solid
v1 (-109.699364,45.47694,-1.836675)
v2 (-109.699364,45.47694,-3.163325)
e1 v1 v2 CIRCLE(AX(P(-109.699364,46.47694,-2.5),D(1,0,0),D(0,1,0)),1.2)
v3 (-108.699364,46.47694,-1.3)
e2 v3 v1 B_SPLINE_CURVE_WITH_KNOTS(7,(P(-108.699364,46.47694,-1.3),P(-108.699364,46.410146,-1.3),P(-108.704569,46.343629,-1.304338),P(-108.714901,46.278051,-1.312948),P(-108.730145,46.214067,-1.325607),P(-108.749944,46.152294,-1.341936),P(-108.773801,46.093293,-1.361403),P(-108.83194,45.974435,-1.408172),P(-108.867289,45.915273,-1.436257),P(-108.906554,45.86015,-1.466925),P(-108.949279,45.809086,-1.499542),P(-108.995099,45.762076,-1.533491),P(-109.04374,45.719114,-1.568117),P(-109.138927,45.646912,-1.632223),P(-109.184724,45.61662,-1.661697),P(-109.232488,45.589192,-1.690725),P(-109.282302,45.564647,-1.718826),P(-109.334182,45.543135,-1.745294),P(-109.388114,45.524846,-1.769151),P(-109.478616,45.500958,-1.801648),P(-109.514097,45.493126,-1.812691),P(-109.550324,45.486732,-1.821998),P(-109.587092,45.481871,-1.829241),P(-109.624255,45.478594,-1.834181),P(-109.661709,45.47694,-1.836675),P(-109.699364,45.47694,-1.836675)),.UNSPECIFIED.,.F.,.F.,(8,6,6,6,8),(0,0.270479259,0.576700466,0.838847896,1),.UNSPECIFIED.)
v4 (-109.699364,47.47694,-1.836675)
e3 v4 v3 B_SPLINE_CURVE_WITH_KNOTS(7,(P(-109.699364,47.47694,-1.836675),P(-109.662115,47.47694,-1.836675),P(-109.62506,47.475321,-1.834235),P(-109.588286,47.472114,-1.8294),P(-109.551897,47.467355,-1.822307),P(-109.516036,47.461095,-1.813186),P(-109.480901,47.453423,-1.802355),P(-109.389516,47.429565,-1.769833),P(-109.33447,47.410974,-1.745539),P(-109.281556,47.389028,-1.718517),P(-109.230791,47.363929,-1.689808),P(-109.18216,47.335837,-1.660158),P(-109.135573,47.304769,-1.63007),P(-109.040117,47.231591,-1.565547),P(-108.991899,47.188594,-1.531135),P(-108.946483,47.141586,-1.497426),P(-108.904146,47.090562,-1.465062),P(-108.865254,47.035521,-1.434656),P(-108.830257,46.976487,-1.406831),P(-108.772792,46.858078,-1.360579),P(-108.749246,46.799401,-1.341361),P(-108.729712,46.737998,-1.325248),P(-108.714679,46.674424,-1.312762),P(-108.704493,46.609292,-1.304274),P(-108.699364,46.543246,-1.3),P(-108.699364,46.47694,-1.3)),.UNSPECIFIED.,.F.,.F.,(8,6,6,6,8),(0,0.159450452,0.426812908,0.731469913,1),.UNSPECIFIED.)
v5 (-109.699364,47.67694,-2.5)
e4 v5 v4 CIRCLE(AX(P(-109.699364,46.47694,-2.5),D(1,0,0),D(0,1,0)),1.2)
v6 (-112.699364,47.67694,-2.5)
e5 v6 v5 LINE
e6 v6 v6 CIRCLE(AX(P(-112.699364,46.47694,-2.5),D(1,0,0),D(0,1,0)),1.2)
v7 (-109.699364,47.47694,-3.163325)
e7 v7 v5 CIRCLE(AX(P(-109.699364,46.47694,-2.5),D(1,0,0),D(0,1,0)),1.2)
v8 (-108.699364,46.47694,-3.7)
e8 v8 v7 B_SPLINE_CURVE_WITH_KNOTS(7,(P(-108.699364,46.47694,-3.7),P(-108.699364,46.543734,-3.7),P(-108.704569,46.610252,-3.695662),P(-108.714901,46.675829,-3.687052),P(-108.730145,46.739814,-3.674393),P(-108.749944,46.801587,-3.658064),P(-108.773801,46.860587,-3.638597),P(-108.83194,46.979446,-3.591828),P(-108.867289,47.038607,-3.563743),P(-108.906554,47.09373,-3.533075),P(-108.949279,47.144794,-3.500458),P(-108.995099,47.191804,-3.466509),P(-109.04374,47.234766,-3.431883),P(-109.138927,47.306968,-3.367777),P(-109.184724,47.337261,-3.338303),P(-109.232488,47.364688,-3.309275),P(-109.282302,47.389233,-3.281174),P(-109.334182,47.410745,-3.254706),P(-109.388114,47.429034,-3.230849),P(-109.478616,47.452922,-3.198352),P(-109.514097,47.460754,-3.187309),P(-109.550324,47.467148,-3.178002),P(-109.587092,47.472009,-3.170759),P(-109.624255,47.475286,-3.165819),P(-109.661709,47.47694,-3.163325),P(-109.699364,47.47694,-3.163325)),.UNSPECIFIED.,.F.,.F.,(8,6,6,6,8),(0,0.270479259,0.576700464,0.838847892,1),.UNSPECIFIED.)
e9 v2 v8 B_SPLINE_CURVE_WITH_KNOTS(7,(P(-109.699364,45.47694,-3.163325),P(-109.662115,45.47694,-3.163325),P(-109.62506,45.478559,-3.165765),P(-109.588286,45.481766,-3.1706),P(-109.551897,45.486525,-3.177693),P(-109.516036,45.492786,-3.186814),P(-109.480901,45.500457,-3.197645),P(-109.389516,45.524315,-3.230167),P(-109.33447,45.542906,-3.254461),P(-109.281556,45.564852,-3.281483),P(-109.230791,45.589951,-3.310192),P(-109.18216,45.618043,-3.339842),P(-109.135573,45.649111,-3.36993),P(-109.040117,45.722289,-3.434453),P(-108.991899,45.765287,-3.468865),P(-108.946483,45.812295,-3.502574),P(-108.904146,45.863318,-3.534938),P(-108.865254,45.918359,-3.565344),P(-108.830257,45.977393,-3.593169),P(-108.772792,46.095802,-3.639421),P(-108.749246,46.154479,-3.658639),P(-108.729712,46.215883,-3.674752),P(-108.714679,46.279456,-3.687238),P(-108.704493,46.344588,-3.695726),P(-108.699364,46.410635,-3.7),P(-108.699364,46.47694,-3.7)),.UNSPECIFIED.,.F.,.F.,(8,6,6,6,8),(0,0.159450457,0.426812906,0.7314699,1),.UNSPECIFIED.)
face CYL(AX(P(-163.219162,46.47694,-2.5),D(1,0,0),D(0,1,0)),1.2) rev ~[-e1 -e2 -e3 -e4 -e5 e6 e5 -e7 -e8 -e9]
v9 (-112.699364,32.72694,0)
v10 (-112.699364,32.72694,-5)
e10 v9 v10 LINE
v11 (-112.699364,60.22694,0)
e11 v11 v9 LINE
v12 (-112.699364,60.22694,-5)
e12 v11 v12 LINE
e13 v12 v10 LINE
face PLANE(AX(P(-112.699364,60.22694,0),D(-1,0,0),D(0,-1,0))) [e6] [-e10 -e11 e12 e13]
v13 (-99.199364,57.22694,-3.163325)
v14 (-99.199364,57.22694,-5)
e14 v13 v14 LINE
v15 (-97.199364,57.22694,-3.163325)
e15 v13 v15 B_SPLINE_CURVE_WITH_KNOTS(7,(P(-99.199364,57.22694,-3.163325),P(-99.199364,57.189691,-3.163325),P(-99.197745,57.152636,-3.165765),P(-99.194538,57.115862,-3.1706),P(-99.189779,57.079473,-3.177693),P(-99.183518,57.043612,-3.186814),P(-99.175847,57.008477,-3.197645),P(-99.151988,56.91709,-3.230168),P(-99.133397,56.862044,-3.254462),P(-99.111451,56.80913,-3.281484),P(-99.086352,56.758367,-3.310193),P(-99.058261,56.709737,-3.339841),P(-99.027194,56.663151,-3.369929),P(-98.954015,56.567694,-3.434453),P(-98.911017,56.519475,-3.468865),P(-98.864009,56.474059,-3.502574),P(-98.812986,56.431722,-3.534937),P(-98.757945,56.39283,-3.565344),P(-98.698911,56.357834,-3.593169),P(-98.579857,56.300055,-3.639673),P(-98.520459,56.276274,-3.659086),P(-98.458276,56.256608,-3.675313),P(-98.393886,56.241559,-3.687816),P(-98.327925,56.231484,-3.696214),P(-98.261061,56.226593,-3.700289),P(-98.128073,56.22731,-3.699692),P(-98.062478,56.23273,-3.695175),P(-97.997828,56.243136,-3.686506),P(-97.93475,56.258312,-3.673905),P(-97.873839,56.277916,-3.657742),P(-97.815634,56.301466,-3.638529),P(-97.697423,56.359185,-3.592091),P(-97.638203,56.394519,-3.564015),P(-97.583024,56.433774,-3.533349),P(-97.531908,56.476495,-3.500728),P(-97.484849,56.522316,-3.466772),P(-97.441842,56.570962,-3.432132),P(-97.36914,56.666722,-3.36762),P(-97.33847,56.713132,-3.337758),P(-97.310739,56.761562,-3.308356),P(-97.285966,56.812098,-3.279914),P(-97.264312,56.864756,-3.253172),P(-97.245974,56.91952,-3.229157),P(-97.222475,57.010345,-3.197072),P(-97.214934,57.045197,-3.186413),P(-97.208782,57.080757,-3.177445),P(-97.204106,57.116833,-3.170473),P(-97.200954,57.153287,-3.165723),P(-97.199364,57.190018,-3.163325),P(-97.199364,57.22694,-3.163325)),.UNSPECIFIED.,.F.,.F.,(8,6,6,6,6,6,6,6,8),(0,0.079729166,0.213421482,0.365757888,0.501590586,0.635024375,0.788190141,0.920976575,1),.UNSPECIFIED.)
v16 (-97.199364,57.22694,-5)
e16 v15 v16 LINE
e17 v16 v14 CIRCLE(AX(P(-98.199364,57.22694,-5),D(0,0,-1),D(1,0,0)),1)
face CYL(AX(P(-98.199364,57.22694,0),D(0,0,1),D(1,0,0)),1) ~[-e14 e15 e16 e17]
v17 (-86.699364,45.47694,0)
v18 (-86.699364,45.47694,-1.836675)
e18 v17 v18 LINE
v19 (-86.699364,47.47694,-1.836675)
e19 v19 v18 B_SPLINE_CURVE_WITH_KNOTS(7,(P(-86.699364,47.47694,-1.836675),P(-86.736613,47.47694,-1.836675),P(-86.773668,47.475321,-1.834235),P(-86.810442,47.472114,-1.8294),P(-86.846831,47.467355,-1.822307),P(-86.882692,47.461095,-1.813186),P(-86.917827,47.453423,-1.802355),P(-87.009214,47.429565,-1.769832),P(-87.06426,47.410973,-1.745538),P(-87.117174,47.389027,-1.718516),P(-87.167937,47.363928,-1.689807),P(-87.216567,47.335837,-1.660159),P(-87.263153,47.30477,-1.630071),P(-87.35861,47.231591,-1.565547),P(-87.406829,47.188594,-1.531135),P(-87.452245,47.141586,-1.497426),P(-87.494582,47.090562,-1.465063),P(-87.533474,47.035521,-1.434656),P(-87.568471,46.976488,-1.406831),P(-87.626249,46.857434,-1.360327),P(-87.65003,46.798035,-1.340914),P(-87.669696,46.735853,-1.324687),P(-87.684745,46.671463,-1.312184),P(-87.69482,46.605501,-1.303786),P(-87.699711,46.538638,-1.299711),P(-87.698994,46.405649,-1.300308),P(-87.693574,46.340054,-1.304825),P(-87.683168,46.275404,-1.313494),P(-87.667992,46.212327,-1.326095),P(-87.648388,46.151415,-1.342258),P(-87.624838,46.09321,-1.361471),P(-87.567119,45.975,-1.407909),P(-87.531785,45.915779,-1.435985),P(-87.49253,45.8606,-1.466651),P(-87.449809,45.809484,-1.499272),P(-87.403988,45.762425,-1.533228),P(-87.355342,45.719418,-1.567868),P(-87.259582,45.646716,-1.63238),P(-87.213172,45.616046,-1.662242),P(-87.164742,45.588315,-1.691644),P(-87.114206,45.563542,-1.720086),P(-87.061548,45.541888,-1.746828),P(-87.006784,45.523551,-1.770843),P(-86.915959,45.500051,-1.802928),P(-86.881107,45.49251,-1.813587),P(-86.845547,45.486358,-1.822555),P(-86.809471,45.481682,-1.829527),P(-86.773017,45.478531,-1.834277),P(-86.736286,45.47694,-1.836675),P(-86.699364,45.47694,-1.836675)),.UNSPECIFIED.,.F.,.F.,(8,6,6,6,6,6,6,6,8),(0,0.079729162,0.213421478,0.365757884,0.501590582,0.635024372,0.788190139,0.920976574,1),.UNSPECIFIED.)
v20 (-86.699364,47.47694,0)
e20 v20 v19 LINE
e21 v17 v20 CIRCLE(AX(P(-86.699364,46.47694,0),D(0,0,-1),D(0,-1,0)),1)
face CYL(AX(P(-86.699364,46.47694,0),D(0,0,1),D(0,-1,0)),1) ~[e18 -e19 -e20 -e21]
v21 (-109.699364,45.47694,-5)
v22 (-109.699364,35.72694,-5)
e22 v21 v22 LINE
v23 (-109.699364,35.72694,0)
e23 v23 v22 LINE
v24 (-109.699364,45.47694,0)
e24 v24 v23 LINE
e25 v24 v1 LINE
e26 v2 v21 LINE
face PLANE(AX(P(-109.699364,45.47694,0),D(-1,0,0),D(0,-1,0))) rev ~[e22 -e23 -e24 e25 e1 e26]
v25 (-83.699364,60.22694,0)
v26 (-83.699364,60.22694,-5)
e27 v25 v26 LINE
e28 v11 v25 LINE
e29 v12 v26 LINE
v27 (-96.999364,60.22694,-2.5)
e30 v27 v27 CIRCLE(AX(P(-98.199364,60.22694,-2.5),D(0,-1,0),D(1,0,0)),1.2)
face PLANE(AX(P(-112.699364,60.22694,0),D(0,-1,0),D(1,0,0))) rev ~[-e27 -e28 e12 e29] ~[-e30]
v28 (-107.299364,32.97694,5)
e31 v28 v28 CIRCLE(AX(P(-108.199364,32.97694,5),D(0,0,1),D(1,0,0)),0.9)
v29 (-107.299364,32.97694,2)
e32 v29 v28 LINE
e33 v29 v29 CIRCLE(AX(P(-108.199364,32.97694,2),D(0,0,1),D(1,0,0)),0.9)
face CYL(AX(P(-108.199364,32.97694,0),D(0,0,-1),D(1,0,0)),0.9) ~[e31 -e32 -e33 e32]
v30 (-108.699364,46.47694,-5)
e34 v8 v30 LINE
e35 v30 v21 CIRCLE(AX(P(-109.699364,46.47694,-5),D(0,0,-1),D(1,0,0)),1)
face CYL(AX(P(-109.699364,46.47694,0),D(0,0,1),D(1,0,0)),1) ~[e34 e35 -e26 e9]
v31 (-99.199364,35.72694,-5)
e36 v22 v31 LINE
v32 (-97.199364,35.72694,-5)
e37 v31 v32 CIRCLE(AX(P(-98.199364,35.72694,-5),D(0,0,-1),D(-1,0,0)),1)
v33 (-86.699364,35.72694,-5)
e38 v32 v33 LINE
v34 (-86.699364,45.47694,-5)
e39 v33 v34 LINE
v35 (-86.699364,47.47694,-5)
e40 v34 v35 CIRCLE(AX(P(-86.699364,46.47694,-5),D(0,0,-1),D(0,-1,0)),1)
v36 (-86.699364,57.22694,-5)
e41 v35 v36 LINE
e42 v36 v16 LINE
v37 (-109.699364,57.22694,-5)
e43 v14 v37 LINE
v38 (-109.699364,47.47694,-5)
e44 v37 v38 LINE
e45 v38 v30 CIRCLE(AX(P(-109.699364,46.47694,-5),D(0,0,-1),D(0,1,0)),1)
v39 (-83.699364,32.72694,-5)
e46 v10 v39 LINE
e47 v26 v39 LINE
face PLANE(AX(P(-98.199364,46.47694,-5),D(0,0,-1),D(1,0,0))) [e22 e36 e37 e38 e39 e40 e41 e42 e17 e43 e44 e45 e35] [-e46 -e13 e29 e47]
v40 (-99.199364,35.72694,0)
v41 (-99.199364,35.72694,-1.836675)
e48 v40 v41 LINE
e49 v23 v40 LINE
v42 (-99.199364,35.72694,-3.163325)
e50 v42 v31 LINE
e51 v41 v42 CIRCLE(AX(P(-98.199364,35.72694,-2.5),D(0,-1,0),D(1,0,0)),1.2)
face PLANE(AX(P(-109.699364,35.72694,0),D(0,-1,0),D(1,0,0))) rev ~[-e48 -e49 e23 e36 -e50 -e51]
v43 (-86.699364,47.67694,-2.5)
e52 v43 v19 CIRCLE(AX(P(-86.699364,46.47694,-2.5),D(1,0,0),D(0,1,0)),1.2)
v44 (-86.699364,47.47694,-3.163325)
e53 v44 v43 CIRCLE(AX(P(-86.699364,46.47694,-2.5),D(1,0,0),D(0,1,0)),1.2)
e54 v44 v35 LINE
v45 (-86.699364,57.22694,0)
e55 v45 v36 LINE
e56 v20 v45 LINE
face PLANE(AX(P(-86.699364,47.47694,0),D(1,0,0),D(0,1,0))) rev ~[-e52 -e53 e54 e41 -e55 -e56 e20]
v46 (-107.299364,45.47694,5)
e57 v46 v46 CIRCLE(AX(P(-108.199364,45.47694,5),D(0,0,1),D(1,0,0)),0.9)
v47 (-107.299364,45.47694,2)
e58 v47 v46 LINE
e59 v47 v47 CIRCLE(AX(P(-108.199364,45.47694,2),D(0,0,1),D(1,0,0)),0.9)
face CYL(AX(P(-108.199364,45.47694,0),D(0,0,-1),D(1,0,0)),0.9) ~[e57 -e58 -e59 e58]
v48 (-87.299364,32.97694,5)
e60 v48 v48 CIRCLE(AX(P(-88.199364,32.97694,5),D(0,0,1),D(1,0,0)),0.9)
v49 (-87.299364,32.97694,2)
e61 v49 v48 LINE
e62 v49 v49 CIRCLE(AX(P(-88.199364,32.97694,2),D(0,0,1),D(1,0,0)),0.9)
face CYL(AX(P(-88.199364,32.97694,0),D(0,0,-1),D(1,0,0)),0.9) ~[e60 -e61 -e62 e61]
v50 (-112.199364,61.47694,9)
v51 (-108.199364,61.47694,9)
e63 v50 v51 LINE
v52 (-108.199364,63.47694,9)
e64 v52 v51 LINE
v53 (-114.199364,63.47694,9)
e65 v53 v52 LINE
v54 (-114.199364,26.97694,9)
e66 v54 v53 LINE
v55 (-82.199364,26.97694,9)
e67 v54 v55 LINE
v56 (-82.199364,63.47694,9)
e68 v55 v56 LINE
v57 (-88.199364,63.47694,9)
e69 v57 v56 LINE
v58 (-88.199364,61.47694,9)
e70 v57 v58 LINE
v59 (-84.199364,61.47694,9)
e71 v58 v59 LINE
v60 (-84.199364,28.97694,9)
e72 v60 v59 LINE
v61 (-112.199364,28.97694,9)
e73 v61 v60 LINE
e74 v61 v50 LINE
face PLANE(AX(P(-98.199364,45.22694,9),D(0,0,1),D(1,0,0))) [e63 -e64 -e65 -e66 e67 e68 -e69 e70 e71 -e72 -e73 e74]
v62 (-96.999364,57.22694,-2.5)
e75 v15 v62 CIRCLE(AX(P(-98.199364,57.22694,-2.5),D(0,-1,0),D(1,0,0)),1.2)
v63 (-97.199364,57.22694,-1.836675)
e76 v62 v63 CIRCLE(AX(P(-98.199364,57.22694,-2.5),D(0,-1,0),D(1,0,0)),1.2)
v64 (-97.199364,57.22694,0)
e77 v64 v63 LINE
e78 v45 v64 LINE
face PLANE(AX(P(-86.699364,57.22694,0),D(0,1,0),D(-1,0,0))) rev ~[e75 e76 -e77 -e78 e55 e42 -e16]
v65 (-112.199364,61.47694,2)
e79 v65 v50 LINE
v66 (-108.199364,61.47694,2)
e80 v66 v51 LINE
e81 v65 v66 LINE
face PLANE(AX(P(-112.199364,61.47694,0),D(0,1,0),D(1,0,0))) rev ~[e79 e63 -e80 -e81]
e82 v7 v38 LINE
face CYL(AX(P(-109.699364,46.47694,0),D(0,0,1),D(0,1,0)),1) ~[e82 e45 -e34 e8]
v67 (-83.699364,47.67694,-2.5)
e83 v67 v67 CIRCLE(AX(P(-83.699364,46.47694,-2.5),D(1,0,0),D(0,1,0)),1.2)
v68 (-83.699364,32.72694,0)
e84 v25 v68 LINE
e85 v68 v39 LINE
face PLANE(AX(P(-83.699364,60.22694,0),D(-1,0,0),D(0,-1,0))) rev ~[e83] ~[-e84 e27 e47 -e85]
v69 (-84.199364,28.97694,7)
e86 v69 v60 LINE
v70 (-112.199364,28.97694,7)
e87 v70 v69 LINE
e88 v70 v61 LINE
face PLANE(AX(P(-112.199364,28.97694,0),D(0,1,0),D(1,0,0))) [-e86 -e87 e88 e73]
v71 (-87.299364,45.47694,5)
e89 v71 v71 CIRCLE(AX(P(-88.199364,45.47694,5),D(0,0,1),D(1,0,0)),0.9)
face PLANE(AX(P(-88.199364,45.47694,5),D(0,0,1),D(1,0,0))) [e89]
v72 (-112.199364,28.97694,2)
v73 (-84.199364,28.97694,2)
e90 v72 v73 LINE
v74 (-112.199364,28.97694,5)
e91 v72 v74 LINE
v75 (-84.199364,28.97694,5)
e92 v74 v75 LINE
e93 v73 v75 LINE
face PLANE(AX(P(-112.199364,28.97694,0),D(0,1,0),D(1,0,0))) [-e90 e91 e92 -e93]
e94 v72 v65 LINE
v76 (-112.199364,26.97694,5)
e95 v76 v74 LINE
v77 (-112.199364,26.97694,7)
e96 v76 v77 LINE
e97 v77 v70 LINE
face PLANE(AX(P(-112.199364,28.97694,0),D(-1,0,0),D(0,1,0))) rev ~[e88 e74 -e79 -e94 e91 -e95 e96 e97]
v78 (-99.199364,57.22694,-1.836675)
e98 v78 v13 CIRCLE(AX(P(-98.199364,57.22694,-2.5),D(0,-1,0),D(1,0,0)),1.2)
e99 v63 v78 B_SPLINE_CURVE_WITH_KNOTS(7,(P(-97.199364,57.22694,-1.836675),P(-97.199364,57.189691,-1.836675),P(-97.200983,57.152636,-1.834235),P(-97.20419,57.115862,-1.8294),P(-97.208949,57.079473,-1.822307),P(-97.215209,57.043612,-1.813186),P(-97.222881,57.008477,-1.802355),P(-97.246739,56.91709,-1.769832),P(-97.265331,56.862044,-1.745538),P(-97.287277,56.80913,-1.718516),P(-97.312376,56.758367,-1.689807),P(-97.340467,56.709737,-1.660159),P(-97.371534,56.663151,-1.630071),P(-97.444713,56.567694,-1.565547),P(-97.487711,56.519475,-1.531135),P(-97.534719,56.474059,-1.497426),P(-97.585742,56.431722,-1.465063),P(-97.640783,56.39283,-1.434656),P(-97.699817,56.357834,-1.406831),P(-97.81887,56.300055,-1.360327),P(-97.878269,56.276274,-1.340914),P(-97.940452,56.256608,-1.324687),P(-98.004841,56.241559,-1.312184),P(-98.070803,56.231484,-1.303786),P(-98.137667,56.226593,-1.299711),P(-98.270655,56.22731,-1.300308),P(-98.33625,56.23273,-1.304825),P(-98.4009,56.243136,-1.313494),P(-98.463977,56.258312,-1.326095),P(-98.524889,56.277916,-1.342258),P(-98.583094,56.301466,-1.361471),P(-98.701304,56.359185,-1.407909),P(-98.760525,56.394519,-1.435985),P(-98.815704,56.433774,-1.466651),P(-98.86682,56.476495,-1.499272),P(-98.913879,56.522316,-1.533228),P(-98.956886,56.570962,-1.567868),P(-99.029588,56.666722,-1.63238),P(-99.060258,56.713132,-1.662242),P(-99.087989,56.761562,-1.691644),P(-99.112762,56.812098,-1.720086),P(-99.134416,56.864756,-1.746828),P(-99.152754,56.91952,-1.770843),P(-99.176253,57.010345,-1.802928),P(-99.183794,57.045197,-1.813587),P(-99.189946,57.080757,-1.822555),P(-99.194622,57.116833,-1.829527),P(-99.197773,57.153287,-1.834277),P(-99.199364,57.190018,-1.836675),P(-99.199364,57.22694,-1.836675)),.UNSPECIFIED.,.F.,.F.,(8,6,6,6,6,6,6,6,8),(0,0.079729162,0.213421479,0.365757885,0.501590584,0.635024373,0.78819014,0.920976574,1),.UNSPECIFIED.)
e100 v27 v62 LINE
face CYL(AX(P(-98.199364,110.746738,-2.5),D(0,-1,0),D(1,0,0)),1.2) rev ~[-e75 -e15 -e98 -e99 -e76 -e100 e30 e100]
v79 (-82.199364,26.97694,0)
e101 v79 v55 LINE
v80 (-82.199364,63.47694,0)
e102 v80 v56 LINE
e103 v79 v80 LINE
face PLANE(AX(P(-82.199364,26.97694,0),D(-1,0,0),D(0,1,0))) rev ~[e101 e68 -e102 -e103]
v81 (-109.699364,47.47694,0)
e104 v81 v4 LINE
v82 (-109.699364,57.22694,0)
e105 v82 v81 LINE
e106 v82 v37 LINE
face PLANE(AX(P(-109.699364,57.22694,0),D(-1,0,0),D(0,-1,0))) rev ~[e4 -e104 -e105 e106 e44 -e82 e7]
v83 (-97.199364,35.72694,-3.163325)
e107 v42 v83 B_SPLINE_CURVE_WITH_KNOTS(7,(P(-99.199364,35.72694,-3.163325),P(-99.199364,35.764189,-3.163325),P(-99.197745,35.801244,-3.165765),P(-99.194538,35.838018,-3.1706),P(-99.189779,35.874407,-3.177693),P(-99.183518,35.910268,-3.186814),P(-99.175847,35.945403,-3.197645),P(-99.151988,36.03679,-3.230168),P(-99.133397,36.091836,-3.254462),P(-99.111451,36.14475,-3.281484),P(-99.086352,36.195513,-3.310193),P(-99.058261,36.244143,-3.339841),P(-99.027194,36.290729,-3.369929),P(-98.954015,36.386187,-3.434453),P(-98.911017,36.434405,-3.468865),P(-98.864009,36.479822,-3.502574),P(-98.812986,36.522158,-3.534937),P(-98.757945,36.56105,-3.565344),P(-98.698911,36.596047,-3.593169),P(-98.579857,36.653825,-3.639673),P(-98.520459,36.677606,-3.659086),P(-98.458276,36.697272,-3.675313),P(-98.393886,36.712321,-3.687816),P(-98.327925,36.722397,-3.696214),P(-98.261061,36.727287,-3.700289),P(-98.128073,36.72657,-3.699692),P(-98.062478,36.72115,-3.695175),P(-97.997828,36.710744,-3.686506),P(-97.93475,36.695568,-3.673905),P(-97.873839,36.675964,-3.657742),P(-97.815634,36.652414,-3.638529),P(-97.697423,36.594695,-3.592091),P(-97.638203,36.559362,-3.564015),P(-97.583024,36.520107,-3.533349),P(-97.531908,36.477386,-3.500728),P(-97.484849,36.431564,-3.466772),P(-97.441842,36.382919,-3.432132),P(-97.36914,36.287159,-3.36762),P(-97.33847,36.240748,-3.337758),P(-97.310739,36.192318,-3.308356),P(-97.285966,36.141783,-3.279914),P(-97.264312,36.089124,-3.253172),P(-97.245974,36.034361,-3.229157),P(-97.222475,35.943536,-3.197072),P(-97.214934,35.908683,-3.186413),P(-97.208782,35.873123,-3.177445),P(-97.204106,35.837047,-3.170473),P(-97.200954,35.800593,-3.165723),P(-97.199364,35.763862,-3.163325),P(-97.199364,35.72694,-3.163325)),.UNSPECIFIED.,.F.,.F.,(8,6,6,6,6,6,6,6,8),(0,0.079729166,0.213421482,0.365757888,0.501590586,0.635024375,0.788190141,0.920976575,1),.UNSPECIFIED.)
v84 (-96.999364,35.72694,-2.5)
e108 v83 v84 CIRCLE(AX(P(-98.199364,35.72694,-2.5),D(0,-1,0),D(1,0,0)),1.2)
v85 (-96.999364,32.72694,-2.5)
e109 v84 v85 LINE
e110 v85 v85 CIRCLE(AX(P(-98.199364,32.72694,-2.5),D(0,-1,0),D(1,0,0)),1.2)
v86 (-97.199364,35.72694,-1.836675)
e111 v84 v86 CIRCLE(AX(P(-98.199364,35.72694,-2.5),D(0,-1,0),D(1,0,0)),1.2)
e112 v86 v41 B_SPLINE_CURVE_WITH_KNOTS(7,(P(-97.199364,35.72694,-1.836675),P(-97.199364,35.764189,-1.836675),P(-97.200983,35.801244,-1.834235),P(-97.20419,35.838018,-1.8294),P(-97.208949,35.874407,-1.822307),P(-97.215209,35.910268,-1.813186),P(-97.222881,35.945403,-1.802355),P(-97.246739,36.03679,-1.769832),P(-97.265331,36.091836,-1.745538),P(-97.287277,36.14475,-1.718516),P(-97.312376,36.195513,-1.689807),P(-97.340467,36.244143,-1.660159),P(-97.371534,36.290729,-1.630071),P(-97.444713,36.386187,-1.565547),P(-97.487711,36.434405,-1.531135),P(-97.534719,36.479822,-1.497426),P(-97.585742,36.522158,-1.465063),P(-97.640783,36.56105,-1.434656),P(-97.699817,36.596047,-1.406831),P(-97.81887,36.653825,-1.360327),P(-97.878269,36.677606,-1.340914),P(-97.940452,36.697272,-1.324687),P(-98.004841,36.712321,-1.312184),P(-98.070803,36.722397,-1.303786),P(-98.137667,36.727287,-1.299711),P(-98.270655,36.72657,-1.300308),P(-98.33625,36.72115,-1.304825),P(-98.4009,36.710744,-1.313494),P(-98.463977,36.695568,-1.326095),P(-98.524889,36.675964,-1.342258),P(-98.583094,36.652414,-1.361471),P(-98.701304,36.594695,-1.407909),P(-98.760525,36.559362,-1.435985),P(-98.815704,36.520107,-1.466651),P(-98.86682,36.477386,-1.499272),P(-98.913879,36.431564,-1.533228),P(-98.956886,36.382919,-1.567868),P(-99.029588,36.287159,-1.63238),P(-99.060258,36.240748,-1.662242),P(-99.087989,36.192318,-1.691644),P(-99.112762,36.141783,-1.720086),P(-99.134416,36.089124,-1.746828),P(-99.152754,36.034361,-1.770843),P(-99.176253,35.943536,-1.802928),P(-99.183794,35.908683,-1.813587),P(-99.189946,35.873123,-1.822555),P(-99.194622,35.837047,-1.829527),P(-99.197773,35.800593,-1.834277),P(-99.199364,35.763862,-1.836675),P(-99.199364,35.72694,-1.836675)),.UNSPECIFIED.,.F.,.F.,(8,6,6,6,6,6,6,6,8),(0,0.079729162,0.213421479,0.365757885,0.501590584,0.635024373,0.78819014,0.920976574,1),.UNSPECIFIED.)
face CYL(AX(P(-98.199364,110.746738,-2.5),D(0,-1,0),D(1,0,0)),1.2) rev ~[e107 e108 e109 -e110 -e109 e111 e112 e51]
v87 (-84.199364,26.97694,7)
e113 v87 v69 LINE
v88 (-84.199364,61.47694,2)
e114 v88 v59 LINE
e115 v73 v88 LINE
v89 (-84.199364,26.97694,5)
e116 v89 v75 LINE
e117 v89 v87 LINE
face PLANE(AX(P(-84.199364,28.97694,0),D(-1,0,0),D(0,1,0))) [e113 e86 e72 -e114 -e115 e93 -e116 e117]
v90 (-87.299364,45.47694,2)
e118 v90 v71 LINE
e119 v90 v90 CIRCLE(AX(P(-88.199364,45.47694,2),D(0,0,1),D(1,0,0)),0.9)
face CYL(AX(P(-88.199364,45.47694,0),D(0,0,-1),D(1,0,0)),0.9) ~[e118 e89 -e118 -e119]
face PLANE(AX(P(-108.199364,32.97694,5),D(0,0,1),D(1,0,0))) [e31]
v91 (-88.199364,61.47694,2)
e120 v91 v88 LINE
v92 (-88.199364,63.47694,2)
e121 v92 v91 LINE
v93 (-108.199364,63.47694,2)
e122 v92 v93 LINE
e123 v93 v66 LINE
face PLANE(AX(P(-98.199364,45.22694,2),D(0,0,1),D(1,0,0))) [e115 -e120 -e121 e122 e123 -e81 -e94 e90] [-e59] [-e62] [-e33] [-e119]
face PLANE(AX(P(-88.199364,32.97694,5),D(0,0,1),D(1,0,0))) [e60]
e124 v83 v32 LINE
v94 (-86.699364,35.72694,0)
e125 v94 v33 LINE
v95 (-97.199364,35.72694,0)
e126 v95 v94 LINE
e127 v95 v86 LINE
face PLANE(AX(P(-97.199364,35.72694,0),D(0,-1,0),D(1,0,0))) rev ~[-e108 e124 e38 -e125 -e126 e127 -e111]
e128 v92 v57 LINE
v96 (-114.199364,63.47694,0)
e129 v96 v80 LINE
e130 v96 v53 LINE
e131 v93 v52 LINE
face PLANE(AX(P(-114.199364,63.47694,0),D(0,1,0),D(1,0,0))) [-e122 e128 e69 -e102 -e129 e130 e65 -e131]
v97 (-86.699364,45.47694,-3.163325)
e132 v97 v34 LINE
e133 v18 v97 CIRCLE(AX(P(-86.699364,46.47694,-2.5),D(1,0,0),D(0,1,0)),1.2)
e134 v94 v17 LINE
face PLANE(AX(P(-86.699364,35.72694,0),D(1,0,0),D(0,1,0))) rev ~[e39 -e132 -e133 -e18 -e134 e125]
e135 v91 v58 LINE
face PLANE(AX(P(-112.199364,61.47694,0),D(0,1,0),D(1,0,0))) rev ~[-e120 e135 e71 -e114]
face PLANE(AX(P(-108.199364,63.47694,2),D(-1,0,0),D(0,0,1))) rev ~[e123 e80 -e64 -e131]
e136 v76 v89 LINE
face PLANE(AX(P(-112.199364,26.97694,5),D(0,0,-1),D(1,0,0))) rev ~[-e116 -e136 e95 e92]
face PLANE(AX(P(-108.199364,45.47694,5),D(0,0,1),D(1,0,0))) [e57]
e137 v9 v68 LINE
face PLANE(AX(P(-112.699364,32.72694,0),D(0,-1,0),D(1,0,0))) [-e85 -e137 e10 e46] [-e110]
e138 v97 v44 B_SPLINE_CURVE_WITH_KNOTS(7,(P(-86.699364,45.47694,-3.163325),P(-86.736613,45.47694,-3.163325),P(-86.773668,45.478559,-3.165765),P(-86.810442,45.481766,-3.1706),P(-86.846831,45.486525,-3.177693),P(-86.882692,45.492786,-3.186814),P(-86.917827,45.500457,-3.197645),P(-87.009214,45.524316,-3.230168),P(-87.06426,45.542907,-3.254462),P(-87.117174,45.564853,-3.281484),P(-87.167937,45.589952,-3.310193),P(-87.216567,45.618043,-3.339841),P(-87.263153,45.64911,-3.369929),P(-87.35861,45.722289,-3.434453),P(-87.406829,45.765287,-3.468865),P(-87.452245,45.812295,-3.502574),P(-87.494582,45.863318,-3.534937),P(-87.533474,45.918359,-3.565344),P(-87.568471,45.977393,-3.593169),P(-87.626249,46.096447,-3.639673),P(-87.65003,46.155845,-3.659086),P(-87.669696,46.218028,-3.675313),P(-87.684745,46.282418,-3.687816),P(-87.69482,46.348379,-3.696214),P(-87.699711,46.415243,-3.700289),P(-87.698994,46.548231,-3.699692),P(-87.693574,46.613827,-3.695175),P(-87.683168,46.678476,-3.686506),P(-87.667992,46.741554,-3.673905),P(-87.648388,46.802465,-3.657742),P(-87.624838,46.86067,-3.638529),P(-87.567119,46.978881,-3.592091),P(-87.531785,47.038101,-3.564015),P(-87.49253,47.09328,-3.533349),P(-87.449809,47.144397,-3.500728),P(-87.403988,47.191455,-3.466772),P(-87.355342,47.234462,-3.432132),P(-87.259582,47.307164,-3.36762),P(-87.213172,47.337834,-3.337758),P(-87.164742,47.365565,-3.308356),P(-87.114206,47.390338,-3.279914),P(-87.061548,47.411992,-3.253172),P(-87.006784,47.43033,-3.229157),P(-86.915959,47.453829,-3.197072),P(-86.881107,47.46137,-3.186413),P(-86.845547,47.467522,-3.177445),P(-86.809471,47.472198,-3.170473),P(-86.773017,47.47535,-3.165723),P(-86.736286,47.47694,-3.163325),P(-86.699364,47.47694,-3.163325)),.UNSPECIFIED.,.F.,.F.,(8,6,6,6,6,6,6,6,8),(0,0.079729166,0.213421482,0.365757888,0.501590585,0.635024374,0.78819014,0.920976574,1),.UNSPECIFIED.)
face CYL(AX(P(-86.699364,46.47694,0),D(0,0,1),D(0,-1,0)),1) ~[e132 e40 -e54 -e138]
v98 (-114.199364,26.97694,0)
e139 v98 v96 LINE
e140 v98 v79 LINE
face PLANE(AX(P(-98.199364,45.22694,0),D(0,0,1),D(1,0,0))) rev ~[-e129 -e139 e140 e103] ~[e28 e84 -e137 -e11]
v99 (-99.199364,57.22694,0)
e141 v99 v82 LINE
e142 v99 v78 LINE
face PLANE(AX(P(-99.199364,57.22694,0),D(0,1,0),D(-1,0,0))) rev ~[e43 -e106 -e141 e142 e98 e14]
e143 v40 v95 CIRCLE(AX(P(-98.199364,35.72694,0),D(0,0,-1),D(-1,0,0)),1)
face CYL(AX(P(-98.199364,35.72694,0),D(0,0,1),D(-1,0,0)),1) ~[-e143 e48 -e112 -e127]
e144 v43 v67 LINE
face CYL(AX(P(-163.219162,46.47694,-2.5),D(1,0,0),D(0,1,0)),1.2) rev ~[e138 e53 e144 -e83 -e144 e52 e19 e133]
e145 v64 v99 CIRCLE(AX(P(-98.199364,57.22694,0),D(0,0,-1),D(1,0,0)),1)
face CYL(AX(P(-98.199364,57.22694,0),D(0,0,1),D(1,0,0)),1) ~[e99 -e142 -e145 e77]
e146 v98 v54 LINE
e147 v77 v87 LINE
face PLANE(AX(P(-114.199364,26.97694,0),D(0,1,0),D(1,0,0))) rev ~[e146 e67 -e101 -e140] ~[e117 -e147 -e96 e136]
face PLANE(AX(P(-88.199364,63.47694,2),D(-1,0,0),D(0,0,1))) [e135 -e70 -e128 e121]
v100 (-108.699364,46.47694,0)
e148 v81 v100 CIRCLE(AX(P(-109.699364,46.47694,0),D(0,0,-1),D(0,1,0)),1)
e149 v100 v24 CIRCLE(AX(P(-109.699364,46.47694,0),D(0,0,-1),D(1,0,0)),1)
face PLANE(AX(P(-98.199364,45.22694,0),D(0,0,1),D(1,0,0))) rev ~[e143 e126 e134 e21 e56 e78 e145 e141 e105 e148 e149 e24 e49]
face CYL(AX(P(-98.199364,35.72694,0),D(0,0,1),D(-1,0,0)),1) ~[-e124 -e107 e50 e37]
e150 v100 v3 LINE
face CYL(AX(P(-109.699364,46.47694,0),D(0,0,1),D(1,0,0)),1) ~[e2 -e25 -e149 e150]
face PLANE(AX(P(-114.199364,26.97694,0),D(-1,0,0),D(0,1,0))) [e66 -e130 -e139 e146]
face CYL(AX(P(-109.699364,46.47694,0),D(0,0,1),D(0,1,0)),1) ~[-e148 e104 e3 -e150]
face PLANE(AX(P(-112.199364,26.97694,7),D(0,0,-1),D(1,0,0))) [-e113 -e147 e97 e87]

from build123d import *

# Parameters (mm, degrees)
F0_W     = 32
F0_H     = 36.5
F0_W_2   = 28
F0_H_2   = 32.5
F1_DEPTH = 9
F0_R     = 0.9
F2_DEPTH = 2
F3_DEPTH = 5
F4_W     = 28
F4_H     = 2
F5_DEPTH = 2
F6_W     = 20
F6_H     = 7
F7_DEPTH = 2
F8_W     = 29
F8_H     = 27.5
F9_DEPTH = 5
F11_D    = 2.4
F13_D    = 2.4


with BuildPart() as f1:
    # F0 (on Top) → F1 (new body)
    with BuildSketch(Plane.XY):
        with Locations((-98.1993639427, 45.2269401511)):
            Rectangle(F0_W, F0_H)
        with Locations((-98.1993639427, 45.2269401511)):
            Rectangle(F0_W_2, F0_H_2, mode=Mode.SUBTRACT)
    extrude(amount=F1_DEPTH)

    # F0 (on Top) → F2 (join)
    with BuildSketch(Plane.XY):
        with Locations((-98.1993639427, 45.2269401511)):
            Rectangle(F0_W_2, F0_H_2)
        with Locations((-108.1993639427, 32.9769401511)):
            Circle(F0_R, mode=Mode.SUBTRACT)
        with Locations((-88.1993639427, 32.9769401511)):
            Circle(F0_R, mode=Mode.SUBTRACT)
        with Locations((-108.1993639427, 45.4769401511)):
            Circle(F0_R, mode=Mode.SUBTRACT)
        with Locations((-88.1993639427, 45.4769401511)):
            Circle(F0_R, mode=Mode.SUBTRACT)
    extrude(amount=F2_DEPTH)

    # F0 (on Top) → F3 (join)
    with BuildSketch(Plane.XY):
        with Locations((-108.1993639427, 32.9769401511)):
            Circle(F0_R)
        with Locations((-108.1993639427, 45.4769401511)):
            Circle(F0_R)
        with Locations((-88.1993639427, 32.9769401511)):
            Circle(F0_R)
        with Locations((-88.1993639427, 45.4769401511)):
            Circle(F0_R)
    extrude(amount=F3_DEPTH)

    # F4 (on face) → F5 (cut, through all)
    with BuildSketch(Plane.XZ.offset(-26.9769401511)):
        with Locations((-98.1993639427, 6)):
            Rectangle(F4_W, F4_H)
    extrude(amount=-F5_DEPTH, mode=Mode.SUBTRACT)

    # F6 (on face) → F7 (cut, through all)
    with BuildSketch(Plane(origin=(0, 63.4769401511, 0), x_dir=(-1, 0, 0), z_dir=(0, 1, 0))):
        with Locations((98.1993639427, 5.5)):
            Rectangle(F6_W, F6_H)
    extrude(amount=-F7_DEPTH, mode=Mode.SUBTRACT)

    # F8 (on face) → F9 (join)
    with BuildSketch(Plane(origin=(0, 0, 0), x_dir=(1, 0, 0), z_dir=(0, 0, -1))):
        with Locations((-98.1993639427, -46.4769401511)):
            Rectangle(F8_W, F8_H)
        with BuildLine():
            ThreePointArc((-99.1993639427, -35.7269401511), (-98.1993639427, -34.7269401511), (-97.1993639427, -35.7269401511))
            Line((-97.1993639427, -35.7269401511), (-86.6993639427, -35.7269401511))
            Line((-86.6993639427, -35.7269401511), (-86.6993639427, -45.4769401511))
            ThreePointArc((-86.6993639427, -45.4769401511), (-85.9922571615, -45.7698333699), (-85.6993639427, -46.4769401511))
            ThreePointArc((-85.6993639427, -46.4769401511), (-85.9922571615, -47.1840469322), (-86.6993639427, -47.4769401511))
            Line((-86.6993639427, -47.4769401511), (-86.6993639427, -57.2269401511))
            Line((-86.6993639427, -57.2269401511), (-97.1993639427, -57.2269401511))
            ThreePointArc((-97.1993639427, -57.2269401511), (-98.1993639427, -58.2269401511), (-99.1993639427, -57.2269401511))
            Line((-99.1993639427, -57.2269401511), (-109.6993639427, -57.2269401511))
            Line((-109.6993639427, -57.2269401511), (-109.6993639427, -47.4769401511))
            ThreePointArc((-109.6993639427, -47.4769401511), (-110.6993639427, -46.4769401511), (-109.6993639427, -45.4769401511))
            Line((-109.6993639427, -45.4769401511), (-109.6993639427, -35.7269401511))
            Line((-109.6993639427, -35.7269401511), (-99.1993639427, -35.7269401511))
        make_face(mode=Mode.SUBTRACT)
        with BuildLine():
            Line((-86.6993639427, -47.4769401511), (-86.6993639427, -45.4769401511))
            ThreePointArc((-86.6993639427, -45.4769401511), (-87.6993639427, -46.4769401511), (-86.6993639427, -47.4769401511))
        make_face()
        with BuildLine():
            ThreePointArc((-85.6993639427, -46.4769401511), (-85.9922571615, -45.7698333699), (-86.6993639427, -45.4769401511))
            Line((-86.6993639427, -45.4769401511), (-86.6993639427, -47.4769401511))
            ThreePointArc((-86.6993639427, -47.4769401511), (-85.9922571615, -47.1840469322), (-85.6993639427, -46.4769401511))
        make_face()
        with BuildLine():
            Line((-99.1993639427, -35.7269401511), (-97.1993639427, -35.7269401511))
            ThreePointArc((-97.1993639427, -35.7269401511), (-98.1993639427, -34.7269401511), (-99.1993639427, -35.7269401511))
        make_face()
        with BuildLine():
            ThreePointArc((-99.1993639427, -35.7269401511), (-98.1993639427, -36.7269401511), (-97.1993639427, -35.7269401511))
            Line((-97.1993639427, -35.7269401511), (-99.1993639427, -35.7269401511))
        make_face()
        with BuildLine():
            ThreePointArc((-108.6993639427, -46.4769401511), (-108.9922571615, -45.7698333699), (-109.6993639427, -45.4769401511))
            Line((-109.6993639427, -45.4769401511), (-109.6993639427, -47.4769401511))
            ThreePointArc((-109.6993639427, -47.4769401511), (-108.9922571615, -47.1840469322), (-108.6993639427, -46.4769401511))
        make_face()
        with BuildLine():
            Line((-109.6993639427, -47.4769401511), (-109.6993639427, -45.4769401511))
            ThreePointArc((-109.6993639427, -45.4769401511), (-110.6993639427, -46.4769401511), (-109.6993639427, -47.4769401511))
        make_face()
        with BuildLine():
            Line((-99.1993639427, -57.2269401511), (-97.1993639427, -57.2269401511))
            ThreePointArc((-97.1993639427, -57.2269401511), (-98.1993639427, -56.2269401511), (-99.1993639427, -57.2269401511))
        make_face()
        with BuildLine():
            ThreePointArc((-99.1993639427, -57.2269401511), (-98.1993639427, -58.2269401511), (-97.1993639427, -57.2269401511))
            Line((-97.1993639427, -57.2269401511), (-99.1993639427, -57.2269401511))
        make_face()
    extrude(amount=F9_DEPTH)

    # F11 (through all)
    with Locations(Plane(origin=(0, 60.2269401511, 0), x_dir=(-1, 0, 0), z_dir=(0, 1, 0))):
        with Locations((98.1993639427, -2.5)):
            Hole(F11_D / 2)

    # F13 (through all)
    with Locations(Plane(origin=(-112.6993639427, 0, 0), x_dir=(0, -1, 0), z_dir=(-1, 0, 0))):
        with Locations((-46.4769401511, -2.5)):
            Hole(F13_D / 2)


solid = f1.part
